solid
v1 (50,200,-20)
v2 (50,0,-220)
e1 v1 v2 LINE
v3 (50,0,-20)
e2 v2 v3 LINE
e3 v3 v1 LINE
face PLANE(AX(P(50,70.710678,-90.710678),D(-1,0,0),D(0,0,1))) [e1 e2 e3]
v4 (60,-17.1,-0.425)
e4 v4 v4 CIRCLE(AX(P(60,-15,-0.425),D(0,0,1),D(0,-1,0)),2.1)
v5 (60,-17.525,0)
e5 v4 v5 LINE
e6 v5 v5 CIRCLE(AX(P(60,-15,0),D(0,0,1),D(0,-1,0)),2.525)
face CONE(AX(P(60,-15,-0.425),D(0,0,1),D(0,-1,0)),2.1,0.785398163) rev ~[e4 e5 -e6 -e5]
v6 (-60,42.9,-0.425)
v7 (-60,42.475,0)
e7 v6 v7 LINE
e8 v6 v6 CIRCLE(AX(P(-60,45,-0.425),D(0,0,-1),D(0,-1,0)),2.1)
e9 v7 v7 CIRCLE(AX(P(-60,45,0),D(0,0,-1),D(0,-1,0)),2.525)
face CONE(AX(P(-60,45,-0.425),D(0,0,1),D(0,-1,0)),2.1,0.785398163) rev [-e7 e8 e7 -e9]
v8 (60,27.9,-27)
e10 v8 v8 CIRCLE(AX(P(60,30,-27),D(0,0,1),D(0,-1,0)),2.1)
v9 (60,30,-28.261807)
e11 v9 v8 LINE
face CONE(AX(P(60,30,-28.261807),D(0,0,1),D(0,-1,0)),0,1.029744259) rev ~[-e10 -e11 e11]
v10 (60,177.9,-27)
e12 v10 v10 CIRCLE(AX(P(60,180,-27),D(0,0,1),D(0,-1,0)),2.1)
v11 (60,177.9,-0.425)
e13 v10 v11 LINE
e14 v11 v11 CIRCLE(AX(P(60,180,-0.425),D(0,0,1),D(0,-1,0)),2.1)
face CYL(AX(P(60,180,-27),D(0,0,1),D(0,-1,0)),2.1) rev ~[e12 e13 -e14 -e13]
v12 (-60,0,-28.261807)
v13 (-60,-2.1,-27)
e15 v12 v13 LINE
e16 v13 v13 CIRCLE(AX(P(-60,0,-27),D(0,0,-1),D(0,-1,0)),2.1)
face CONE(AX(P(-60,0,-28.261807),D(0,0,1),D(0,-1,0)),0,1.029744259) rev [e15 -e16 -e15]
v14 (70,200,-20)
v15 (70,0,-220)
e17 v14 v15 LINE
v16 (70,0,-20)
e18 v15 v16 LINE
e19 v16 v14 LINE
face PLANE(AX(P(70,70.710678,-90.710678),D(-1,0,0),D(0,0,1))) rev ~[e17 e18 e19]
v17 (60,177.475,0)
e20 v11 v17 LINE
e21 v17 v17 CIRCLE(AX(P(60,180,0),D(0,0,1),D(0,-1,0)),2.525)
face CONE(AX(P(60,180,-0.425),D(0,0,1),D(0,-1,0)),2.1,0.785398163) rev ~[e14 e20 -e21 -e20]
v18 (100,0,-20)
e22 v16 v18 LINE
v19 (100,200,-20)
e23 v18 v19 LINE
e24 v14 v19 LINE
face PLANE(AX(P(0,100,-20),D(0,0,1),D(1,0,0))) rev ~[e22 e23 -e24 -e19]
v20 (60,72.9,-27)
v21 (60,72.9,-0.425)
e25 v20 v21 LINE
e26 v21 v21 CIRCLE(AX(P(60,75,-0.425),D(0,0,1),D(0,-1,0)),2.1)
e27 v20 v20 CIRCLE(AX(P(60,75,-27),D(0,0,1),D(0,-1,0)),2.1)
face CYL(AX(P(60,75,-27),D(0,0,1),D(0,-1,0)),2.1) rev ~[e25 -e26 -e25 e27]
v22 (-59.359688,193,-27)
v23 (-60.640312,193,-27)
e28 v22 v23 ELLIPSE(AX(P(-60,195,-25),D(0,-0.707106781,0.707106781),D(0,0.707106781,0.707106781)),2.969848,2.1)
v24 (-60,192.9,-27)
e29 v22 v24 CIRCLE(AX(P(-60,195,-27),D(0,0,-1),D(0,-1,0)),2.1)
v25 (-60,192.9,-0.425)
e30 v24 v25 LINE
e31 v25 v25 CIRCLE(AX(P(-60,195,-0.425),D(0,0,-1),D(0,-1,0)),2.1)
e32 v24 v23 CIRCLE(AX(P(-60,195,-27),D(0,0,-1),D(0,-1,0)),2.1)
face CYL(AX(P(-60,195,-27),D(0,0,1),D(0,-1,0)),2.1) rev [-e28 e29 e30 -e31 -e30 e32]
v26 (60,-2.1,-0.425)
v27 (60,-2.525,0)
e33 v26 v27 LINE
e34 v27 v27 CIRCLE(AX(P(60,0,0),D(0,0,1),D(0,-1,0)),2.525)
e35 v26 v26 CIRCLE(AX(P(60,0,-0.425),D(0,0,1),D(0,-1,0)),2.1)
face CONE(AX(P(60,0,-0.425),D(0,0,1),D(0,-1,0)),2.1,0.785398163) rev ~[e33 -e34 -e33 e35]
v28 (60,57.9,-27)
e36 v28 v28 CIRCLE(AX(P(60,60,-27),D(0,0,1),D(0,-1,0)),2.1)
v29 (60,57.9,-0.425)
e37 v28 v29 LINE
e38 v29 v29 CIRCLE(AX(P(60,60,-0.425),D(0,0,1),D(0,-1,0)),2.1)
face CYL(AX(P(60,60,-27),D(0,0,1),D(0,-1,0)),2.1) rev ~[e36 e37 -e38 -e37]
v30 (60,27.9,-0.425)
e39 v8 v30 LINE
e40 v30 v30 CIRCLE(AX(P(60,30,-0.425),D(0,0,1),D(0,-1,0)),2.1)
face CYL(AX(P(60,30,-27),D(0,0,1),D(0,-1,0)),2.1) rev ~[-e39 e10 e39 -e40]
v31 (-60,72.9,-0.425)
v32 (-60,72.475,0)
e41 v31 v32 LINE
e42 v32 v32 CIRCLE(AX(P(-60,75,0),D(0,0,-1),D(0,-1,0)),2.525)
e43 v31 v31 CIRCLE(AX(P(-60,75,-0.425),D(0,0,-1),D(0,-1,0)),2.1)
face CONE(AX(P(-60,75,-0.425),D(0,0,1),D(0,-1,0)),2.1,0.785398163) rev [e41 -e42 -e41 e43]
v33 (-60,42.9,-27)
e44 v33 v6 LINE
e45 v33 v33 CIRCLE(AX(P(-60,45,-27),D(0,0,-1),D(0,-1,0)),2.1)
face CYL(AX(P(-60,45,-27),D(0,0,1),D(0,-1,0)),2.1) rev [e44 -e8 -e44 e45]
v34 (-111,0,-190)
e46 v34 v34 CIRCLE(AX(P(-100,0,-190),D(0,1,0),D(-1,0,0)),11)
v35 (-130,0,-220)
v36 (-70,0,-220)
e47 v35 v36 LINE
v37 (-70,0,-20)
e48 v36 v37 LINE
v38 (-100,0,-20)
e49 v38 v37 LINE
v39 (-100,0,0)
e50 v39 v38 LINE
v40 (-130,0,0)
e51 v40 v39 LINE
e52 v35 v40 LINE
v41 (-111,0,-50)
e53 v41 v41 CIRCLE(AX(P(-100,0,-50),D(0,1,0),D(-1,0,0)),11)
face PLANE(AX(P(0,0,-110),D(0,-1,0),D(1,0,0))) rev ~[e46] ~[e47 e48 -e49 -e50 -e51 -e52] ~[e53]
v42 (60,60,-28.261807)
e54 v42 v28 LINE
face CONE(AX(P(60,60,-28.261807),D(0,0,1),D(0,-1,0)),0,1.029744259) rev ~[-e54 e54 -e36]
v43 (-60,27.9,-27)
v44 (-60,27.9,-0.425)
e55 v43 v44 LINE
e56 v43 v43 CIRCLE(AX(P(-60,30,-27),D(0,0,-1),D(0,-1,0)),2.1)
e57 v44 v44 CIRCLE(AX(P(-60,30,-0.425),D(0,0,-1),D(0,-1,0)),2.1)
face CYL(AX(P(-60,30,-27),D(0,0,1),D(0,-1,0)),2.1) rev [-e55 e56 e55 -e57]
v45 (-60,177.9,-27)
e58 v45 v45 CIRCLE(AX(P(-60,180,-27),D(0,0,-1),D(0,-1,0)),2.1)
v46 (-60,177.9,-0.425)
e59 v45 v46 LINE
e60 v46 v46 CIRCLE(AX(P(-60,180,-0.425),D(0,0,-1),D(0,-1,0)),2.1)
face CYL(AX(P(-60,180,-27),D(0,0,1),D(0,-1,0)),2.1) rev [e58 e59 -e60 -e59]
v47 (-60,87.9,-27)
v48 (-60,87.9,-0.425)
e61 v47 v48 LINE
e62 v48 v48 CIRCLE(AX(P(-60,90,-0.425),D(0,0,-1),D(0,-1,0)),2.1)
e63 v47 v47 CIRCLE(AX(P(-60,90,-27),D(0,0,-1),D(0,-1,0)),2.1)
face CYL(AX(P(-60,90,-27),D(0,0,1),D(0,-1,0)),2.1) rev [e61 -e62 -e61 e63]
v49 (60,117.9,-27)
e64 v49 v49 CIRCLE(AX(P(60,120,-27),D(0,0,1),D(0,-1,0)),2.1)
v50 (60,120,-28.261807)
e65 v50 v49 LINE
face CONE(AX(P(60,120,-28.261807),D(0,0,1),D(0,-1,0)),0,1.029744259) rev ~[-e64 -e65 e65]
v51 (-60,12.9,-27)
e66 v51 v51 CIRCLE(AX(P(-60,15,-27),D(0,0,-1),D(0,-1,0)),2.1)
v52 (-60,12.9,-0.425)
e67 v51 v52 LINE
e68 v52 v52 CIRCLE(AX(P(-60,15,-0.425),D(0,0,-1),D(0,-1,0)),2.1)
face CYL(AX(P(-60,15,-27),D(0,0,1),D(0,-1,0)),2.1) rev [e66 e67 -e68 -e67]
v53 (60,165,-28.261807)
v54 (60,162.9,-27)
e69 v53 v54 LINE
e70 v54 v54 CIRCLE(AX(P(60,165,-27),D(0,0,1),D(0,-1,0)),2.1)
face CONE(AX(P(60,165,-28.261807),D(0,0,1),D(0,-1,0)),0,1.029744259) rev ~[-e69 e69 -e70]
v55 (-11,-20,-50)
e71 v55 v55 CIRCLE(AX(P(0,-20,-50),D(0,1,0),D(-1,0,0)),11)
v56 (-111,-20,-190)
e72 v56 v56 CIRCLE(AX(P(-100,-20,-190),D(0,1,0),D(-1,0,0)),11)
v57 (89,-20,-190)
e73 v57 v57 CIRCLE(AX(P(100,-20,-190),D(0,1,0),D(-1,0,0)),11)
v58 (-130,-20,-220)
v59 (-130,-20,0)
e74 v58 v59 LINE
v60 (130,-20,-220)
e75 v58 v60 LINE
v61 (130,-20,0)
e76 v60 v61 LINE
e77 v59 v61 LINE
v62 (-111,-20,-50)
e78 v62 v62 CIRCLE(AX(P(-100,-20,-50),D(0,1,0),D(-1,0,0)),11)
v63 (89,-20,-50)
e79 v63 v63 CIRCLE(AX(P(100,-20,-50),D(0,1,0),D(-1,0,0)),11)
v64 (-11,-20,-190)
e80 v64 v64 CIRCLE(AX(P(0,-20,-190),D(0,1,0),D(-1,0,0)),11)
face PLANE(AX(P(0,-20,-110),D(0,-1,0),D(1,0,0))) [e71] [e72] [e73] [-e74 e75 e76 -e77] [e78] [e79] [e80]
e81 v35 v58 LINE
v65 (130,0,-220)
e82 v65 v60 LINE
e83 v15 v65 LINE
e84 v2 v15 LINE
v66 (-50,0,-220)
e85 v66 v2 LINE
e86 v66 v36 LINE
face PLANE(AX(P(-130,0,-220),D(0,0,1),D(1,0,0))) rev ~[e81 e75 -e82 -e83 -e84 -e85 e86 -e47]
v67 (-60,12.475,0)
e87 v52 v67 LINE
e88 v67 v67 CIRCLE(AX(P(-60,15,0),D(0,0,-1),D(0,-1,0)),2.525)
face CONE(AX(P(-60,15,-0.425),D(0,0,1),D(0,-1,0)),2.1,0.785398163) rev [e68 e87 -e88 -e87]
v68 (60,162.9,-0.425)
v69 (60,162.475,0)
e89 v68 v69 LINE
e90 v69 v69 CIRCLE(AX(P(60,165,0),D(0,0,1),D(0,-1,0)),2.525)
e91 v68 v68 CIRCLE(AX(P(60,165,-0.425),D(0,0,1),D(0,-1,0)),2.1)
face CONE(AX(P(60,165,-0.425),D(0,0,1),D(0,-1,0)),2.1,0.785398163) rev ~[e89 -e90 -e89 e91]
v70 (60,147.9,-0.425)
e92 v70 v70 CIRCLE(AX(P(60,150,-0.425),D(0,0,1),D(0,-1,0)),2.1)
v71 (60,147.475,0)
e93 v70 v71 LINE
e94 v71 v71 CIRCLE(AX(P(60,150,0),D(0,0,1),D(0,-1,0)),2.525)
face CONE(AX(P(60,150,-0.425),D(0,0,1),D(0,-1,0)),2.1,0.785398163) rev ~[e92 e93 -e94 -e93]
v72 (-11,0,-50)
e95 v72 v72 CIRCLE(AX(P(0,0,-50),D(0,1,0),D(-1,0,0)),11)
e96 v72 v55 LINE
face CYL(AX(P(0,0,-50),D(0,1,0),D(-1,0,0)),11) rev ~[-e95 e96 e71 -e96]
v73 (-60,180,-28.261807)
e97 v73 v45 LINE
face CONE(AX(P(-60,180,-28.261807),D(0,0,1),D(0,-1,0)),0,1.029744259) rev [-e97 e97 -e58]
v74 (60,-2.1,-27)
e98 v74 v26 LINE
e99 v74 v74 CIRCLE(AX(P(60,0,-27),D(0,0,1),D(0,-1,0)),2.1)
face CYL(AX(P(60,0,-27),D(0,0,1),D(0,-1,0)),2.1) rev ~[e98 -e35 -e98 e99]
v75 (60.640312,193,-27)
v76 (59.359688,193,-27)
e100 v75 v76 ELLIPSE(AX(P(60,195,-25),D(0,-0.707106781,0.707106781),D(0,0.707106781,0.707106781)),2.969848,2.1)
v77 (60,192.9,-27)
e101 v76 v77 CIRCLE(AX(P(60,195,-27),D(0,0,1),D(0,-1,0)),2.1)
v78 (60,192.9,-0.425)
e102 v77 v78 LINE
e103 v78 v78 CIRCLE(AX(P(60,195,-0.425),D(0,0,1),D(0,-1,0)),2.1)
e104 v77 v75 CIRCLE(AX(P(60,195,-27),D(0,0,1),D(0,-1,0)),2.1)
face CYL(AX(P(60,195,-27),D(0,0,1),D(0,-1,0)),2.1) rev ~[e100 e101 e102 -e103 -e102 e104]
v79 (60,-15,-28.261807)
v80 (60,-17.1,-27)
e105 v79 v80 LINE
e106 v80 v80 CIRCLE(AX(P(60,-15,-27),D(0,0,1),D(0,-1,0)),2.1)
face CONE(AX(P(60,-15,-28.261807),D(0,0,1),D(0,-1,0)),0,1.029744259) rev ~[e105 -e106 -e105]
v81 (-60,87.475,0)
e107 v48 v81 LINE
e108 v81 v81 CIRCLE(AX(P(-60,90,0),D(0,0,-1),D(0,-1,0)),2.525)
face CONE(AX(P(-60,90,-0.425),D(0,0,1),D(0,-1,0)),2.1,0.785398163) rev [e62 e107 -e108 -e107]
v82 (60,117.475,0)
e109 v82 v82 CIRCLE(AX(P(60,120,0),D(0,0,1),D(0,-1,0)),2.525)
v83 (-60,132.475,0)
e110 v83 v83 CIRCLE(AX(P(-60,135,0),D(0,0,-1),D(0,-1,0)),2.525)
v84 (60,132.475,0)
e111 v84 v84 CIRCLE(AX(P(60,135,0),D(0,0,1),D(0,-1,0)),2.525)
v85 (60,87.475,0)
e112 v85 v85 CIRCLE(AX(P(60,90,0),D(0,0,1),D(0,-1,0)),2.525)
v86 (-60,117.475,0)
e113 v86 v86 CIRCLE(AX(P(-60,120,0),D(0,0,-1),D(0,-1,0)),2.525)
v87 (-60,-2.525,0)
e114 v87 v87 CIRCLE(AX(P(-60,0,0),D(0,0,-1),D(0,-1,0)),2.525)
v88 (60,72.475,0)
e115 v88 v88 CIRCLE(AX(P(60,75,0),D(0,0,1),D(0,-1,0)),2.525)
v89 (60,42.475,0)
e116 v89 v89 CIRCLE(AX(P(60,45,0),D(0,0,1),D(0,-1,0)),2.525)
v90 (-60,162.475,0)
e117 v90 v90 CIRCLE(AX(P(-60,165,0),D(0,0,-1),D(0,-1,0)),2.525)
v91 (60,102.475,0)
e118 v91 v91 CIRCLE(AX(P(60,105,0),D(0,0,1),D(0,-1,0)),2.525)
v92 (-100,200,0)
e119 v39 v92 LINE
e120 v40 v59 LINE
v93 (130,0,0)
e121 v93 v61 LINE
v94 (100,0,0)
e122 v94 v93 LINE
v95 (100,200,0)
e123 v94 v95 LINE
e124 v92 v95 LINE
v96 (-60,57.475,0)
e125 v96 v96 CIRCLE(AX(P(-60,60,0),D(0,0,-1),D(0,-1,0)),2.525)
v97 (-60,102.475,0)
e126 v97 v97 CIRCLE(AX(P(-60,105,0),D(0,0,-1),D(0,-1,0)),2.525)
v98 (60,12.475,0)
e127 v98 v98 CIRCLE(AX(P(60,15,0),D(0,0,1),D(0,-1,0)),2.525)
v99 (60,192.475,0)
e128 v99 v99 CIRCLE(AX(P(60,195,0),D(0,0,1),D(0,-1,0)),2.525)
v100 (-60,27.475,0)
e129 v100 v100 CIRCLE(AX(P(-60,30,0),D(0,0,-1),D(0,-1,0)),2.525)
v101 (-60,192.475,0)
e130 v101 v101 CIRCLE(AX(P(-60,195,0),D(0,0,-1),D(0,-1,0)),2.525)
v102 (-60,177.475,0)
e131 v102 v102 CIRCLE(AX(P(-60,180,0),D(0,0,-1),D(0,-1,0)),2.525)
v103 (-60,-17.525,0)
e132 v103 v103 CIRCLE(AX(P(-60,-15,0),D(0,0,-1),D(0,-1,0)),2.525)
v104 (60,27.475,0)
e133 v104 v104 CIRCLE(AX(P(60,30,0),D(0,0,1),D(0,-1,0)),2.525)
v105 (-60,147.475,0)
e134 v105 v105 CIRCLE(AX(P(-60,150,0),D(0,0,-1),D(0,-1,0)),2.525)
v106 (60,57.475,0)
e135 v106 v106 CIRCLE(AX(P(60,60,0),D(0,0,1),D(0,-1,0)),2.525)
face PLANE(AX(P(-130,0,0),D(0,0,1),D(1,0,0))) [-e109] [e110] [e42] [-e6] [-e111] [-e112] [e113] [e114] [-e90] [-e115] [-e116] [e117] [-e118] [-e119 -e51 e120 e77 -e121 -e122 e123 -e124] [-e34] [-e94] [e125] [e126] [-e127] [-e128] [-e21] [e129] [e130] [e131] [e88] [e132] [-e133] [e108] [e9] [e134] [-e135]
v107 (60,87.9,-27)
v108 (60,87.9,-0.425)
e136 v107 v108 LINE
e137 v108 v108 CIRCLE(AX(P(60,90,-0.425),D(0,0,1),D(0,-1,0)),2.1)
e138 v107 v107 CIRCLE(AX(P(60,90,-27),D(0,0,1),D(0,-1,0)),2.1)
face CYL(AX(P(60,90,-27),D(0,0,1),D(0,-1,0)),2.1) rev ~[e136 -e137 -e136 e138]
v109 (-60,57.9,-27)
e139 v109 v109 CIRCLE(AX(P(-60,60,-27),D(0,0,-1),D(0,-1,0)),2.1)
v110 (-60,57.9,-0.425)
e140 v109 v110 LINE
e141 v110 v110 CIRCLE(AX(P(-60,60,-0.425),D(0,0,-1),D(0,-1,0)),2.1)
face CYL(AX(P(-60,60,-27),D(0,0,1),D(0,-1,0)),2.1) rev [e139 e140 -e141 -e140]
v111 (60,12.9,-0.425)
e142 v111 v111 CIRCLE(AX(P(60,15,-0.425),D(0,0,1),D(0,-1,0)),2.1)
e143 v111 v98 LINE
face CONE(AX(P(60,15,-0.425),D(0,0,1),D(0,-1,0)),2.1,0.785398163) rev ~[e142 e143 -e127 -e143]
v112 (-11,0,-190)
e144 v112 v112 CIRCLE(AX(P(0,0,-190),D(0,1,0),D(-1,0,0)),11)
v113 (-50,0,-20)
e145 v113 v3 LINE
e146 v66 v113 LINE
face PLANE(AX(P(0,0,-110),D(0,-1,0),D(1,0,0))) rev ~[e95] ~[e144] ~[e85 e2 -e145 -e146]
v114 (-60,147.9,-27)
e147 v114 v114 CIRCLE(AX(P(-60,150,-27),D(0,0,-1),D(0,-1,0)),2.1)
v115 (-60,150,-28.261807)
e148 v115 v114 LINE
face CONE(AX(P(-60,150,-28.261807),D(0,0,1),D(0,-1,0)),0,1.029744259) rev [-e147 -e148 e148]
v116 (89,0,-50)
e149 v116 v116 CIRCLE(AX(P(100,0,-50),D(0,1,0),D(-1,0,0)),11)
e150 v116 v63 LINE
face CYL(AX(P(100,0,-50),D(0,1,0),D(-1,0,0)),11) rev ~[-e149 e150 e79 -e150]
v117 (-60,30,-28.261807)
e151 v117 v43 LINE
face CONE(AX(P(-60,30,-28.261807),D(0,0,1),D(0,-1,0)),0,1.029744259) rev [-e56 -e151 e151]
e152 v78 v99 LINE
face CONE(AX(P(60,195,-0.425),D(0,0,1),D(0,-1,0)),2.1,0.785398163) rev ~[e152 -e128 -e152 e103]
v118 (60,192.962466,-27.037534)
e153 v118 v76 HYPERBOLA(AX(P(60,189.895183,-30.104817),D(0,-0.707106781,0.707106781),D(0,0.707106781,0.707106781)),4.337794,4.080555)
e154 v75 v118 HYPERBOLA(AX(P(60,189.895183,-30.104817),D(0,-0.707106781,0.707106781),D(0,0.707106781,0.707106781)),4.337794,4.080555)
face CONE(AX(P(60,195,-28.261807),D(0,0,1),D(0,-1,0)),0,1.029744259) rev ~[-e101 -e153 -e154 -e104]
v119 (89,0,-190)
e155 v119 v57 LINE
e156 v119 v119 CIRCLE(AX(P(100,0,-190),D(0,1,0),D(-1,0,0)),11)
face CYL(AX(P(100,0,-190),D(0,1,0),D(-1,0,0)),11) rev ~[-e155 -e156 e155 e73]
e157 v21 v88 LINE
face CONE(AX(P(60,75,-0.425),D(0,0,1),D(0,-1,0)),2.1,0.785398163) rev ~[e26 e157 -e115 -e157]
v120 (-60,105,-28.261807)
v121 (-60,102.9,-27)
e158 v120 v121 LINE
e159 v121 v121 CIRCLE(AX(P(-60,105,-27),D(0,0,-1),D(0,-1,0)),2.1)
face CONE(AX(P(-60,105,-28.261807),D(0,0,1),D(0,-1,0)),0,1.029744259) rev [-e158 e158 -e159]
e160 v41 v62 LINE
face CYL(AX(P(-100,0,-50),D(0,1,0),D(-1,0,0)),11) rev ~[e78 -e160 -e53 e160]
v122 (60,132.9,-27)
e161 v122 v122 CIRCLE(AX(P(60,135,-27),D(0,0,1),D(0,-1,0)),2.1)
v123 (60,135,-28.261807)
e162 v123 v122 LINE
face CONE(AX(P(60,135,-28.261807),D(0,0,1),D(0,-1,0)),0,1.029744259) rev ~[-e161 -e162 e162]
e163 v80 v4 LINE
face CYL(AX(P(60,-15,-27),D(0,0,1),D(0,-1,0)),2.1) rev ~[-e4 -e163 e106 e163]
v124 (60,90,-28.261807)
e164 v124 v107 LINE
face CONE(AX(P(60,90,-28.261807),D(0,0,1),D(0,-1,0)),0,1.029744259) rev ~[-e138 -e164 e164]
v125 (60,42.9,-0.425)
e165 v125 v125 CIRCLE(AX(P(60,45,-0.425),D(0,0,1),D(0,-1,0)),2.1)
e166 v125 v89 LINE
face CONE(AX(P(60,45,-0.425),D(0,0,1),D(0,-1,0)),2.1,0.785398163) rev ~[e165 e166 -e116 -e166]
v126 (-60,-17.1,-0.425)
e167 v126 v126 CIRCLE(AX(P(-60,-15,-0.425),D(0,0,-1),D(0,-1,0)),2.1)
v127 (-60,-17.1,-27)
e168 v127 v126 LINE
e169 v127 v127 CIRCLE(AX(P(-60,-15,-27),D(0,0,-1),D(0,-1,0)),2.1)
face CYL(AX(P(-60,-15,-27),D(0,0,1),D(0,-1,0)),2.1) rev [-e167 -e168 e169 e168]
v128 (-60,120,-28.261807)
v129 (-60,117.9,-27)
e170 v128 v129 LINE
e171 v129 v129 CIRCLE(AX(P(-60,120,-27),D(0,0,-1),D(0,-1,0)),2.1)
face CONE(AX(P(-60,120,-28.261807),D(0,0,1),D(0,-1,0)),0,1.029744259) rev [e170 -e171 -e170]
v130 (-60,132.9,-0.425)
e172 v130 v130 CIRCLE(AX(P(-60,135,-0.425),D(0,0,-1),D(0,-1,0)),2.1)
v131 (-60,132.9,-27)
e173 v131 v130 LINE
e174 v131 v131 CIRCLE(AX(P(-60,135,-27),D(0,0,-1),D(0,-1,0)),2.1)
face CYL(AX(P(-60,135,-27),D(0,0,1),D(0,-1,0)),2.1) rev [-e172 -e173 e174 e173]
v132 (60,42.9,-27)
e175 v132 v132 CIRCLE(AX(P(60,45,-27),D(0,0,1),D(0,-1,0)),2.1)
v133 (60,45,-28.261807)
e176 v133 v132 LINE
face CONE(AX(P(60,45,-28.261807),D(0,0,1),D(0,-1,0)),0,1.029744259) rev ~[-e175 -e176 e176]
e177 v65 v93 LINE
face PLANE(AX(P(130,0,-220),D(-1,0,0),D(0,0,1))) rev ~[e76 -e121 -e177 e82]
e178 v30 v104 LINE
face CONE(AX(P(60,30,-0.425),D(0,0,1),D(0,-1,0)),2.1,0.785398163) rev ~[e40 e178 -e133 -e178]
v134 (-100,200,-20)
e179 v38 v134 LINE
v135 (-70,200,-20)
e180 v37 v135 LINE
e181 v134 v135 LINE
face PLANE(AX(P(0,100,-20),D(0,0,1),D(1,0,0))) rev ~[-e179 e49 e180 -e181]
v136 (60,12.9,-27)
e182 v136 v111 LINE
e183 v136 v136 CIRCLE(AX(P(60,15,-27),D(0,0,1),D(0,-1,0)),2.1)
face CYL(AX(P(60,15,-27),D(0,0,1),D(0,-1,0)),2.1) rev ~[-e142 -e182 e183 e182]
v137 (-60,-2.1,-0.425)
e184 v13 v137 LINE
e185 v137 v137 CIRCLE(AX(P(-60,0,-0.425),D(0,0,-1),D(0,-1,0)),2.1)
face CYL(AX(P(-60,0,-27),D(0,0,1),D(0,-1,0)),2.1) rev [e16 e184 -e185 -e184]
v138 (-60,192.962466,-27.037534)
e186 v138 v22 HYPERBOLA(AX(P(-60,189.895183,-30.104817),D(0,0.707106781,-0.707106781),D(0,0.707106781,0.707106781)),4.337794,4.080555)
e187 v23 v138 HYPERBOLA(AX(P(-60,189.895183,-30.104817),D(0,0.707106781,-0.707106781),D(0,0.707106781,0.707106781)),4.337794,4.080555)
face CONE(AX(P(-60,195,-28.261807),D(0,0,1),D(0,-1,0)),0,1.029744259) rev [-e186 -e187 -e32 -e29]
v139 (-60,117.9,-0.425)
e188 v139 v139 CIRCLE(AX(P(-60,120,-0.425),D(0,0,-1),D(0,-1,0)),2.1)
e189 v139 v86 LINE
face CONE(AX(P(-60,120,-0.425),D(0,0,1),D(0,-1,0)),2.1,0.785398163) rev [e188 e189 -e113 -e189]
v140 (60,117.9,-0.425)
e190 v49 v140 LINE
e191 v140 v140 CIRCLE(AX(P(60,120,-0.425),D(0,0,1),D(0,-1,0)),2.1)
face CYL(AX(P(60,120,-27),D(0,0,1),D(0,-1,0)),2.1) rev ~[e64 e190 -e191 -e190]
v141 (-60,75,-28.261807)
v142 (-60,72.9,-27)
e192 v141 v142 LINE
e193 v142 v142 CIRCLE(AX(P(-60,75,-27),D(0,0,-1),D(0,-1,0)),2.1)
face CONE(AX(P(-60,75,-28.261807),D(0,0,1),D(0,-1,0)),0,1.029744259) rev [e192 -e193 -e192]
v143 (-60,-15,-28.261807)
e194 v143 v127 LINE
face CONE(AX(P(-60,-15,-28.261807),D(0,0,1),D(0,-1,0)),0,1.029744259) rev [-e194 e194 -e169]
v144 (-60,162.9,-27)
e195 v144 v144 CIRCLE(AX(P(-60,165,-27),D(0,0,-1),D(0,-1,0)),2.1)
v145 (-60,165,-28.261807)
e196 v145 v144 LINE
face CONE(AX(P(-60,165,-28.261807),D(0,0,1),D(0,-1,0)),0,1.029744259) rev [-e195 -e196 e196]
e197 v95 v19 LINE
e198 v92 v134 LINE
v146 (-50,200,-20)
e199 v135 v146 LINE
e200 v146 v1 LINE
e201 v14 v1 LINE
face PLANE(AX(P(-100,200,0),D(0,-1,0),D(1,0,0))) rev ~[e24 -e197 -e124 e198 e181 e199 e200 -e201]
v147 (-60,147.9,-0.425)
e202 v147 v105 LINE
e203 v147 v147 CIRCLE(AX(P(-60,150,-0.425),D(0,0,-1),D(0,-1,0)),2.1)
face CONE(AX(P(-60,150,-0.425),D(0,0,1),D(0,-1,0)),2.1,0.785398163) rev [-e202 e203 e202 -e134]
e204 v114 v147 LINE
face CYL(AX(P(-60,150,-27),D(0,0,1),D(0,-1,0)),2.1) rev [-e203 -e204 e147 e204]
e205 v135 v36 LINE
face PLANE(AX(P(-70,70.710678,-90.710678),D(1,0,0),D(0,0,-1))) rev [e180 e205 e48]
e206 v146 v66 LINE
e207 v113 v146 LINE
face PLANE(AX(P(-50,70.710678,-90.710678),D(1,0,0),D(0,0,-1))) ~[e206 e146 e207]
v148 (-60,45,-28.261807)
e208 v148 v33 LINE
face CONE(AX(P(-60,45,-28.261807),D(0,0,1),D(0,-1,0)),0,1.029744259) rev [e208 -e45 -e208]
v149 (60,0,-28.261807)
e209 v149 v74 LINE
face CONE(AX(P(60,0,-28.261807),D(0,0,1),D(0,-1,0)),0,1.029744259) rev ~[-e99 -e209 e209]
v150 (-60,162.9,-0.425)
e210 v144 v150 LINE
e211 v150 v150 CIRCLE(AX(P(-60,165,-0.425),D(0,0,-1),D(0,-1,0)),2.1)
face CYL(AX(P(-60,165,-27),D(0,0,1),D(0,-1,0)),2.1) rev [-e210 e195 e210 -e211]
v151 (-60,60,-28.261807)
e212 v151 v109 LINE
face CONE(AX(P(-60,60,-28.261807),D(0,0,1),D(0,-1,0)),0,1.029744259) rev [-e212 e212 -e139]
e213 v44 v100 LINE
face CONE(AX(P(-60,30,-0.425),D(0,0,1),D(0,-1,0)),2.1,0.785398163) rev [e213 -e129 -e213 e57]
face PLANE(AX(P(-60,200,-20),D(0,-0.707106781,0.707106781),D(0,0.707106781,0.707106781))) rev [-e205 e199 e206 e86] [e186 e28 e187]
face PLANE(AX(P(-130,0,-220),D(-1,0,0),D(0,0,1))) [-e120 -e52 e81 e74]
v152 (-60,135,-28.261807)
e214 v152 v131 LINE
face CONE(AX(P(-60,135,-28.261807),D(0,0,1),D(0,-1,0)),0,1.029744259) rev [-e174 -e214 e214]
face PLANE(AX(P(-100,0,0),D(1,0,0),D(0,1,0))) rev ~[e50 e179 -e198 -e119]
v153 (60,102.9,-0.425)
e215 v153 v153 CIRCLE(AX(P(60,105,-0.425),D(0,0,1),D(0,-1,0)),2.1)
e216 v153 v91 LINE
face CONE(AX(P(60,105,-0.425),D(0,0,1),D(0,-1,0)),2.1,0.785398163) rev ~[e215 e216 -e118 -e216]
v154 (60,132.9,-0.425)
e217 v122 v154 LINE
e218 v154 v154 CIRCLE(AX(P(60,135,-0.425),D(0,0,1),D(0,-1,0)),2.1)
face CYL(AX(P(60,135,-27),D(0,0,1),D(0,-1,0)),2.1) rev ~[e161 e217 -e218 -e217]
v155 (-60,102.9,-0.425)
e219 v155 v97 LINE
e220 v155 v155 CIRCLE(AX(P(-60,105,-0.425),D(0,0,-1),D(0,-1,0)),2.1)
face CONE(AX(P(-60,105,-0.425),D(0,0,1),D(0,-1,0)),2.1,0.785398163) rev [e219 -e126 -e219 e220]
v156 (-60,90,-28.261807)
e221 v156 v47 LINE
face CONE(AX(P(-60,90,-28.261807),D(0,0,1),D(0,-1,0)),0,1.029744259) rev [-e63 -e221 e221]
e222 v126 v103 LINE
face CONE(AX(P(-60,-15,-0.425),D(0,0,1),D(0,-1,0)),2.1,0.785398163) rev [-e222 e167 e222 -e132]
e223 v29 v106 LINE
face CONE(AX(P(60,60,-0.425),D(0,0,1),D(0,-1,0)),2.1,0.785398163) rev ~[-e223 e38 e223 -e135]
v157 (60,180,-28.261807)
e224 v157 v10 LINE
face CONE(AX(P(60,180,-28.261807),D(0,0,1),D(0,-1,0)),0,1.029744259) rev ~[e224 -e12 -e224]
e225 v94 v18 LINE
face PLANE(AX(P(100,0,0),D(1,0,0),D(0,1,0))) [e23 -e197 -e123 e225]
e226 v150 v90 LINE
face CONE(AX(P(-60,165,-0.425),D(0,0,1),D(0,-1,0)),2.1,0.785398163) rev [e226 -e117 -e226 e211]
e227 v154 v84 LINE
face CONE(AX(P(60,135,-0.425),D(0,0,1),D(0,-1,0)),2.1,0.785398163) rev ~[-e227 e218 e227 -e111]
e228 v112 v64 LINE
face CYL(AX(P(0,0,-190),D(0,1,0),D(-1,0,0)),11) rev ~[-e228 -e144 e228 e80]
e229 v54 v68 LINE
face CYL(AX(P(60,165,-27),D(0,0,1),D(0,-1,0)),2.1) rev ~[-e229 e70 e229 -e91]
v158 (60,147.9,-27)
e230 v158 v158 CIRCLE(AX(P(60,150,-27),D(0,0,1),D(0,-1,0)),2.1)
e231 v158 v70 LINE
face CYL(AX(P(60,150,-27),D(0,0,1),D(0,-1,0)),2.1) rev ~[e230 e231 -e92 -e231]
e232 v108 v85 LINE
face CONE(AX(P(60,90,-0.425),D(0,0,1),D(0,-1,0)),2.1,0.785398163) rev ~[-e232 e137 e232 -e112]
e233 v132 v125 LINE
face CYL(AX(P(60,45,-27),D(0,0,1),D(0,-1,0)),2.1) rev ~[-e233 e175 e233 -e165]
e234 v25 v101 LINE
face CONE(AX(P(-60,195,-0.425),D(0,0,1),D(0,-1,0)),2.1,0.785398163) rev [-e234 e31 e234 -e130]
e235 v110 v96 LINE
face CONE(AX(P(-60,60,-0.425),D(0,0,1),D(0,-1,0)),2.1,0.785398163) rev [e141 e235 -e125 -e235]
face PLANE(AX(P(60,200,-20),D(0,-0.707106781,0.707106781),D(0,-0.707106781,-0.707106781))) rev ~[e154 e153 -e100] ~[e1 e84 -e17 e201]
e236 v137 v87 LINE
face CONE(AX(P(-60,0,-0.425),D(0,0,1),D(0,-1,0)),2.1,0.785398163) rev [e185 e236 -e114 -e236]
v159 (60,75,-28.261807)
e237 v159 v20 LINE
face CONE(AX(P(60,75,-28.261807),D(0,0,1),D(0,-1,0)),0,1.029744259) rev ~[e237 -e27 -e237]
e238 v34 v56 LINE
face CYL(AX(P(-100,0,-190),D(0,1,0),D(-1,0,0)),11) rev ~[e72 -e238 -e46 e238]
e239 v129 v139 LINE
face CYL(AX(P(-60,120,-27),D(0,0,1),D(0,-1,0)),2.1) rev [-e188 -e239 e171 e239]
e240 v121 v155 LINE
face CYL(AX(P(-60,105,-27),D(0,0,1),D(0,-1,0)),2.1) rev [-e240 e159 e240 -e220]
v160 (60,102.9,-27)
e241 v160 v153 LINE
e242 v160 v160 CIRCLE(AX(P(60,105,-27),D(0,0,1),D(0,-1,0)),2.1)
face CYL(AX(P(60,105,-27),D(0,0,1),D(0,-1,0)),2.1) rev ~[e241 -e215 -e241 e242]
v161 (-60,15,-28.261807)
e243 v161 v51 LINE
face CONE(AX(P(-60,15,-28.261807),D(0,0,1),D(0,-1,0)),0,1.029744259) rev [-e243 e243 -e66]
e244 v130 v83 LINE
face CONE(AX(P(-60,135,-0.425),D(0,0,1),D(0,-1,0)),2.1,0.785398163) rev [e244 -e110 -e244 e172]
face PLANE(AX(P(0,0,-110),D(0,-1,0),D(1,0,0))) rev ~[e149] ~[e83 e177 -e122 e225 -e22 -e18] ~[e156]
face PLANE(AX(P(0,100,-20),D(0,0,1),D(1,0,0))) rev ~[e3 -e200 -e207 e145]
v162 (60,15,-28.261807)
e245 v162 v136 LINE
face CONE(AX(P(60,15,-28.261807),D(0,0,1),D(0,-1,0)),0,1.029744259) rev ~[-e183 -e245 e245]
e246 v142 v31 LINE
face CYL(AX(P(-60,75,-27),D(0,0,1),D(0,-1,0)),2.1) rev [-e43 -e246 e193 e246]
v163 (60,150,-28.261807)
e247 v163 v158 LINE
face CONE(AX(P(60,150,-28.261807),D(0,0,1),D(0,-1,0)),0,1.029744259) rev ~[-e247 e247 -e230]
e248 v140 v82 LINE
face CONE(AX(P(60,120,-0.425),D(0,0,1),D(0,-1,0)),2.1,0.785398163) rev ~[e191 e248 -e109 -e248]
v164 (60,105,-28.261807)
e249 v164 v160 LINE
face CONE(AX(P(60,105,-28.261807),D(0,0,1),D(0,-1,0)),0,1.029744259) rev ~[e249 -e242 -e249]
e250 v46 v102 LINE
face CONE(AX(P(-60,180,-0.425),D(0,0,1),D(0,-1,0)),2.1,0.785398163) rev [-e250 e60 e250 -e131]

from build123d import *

# Parameters (mm, degrees)
ESBO_O1_W                      = 200
ESBO_O1_H                      = 200
RESSALTO_EXTRUS_O1_DEPTH       = 20
RESSALTO_EXTRUS_O2_DEPTH       = 10
ESBO_O3_W                      = 260
ESBO_O3_H                      = 220
RESSALTO_EXTRUS_O3_DEPTH       = 20
CORTE_EXTRUS_O1_REACH          = 326.5
ESBO_O4_R                      = 11
PADR_O_LINEAR1_COUNT           = 2
PADR_O_LINEAR1_PITCH           = 100
PADR_O_LINEAR1_COL_COUNT       = 2
PADR_O_LINEAR1_COL_PITCH       = 100
PADR_O_LINEAR2_COUNT           = 2
PADR_O_LINEAR2_PITCH           = 140
PADR_O_LINEAR2_COPY_1_REACH    = 326.5
PADR_O_LINEAR2_COPY_1_SKETCH_R = 11
PADR_O_LINEAR2_COPY_2_REACH    = 326.5
PADR_O_LINEAR2_COPY_2_SKETCH_R = 11
PADR_O_LINEAR3_COUNT           = 15
PADR_O_LINEAR3_PITCH           = 15


with BuildPart() as part:
    # Esboço1 → Ressalto-extrusão1 (new body)
    with BuildSketch(Plane.XY):
        with Locations((0, 100)):
            Rectangle(ESBO_O1_W, ESBO_O1_H)
    extrude(amount=-RESSALTO_EXTRUS_O1_DEPTH)

    # Esboço2 → Ressalto-extrusão2 (add, symmetric)
    with BuildSketch(Plane(origin=(60, 0, 0), x_dir=(0, 0, -1), z_dir=(1, 0, 0))):
        Polygon((20, 0), (20, 200), (220, 0), align=None)
    ressalto_extrus_o2 = extrude(amount=RESSALTO_EXTRUS_O2_DEPTH, both=True)

    # Espelhar1: Ressalto-extrusão2 across plane
    add(ressalto_extrus_o2.mirror(Plane(origin=(0, 0, 0), x_dir=(0, 0, 1), z_dir=(1, 0, 0))))

    # Esboço3 → Ressalto-extrusão3 (add)
    with BuildSketch(Plane.XZ):
        with Locations((0, -110)):
            Rectangle(ESBO_O3_W, ESBO_O3_H)
    extrude(amount=RESSALTO_EXTRUS_O3_DEPTH)

    # Esboço4 → Corte-extrusão1 (cut, up to next)
    with BuildSketch(Plane(origin=(0, 0, 0), x_dir=(1, 0, 0), z_dir=(0, 1, 0)), mode=Mode.PRIVATE) as corte_extrus_o1_sk1:
        with Locations(Location((0, 190, 0), (0, 0, 180))):
            Circle(ESBO_O4_R)
    corte_extrus_o1_tool1 = extrude(corte_extrus_o1_sk1.sketch, amount=-CORTE_EXTRUS_O1_REACH, mode=Mode.PRIVATE) & part.part
    corte_extrus_o1 = corte_extrus_o1_tool1.solids().sort_by_distance((0, 0, -190))[0]
    add(corte_extrus_o1, mode=Mode.SUBTRACT)

    # Padrão linear1: Corte-extrusão1 ×2
    with Locations(*[(i * PADR_O_LINEAR1_PITCH, 0, 0) for i in range(1, PADR_O_LINEAR1_COUNT)]):
        add(corte_extrus_o1, mode=Mode.SUBTRACT)

    # Padrão linear1 col: Corte-extrusão1 ×2
    with Locations(*[(-i * PADR_O_LINEAR1_COL_PITCH, 0, 0) for i in range(1, PADR_O_LINEAR1_COL_COUNT)]):
        add(corte_extrus_o1, mode=Mode.SUBTRACT)

    # Padrão linear2: Corte-extrusão1 ×2
    with Locations(*[(0, 0, i * PADR_O_LINEAR2_PITCH) for i in range(1, PADR_O_LINEAR2_COUNT)]):
        add(corte_extrus_o1, mode=Mode.SUBTRACT)

    # Padrão linear2 copy 1 sketch → Padrão linear2 copy 1 (cut, up to next)
    with BuildSketch(Plane(origin=(100, 0, 140), x_dir=(1, 0, 0), z_dir=(0, 1, 0)), mode=Mode.PRIVATE) as padr_o_linear2_copy_1_sk1:
        with Locations(Location((0, 190, 0), (0, 0, 180))):
            Circle(PADR_O_LINEAR2_COPY_1_SKETCH_R)
    padr_o_linear2_copy_1_tool1 = extrude(padr_o_linear2_copy_1_sk1.sketch, amount=-PADR_O_LINEAR2_COPY_1_REACH, mode=Mode.PRIVATE) & part.part
    add(padr_o_linear2_copy_1_tool1.solids().sort_by_distance((100, 0, -50))[0], mode=Mode.SUBTRACT)

    # Padrão linear2 copy 2 sketch → Padrão linear2 copy 2 (cut, up to next)
    with BuildSketch(Plane(origin=(-100, 0, 140), x_dir=(1, 0, 0), z_dir=(0, 1, 0)), mode=Mode.PRIVATE) as padr_o_linear2_copy_2_sk1:
        with Locations(Location((0, 190, 0), (0, 0, 180))):
            Circle(PADR_O_LINEAR2_COPY_2_SKETCH_R)
    padr_o_linear2_copy_2_tool1 = extrude(padr_o_linear2_copy_2_sk1.sketch, amount=-PADR_O_LINEAR2_COPY_2_REACH, mode=Mode.PRIVATE) & part.part
    add(padr_o_linear2_copy_2_tool1.solids().sort_by_distance((-100, 0, -50))[0], mode=Mode.SUBTRACT)

    # Esboço7 → Furo roscado de M51 (revolve, cut)
    with BuildSketch(Plane(origin=(-60, -15, 0), x_dir=(0, -1, 0), z_dir=(1, 0, 0))):
        Polygon((0, 0), (0, 28.2618073), (2.1, 27), (2.1, 0.425), (2.525, 0), align=None)
    furo_roscado_de_m51 = revolve(axis=Axis((-60, -15, 6.35), (0, 0, -1)), mode=Mode.SUBTRACT)

    # Padrão linear3: Furo roscado de M51 ×15
    with Locations(*[(0, i * PADR_O_LINEAR3_PITCH, 0) for i in range(1, PADR_O_LINEAR3_COUNT)]):
        add(furo_roscado_de_m51, mode=Mode.SUBTRACT)

    # Espelhar2: Furo roscado de M51 across plane
    add(furo_roscado_de_m51.mirror(Plane(origin=(0, 0, 0), x_dir=(0, 0, 1), z_dir=(1, 0, 0))), mode=Mode.SUBTRACT)

    # Espelhar2 copy 1 sketch → Espelhar2 copy 1 (revolve, cut)
    with BuildSketch(Plane(origin=(60, 0, 0), x_dir=(0, -1, 0), z_dir=(-1, 0, 0))):
        Polygon((0, 0), (0, -28.2618073), (2.1, -27), (2.1, -0.425), (2.525, 0), align=None)
    revolve(axis=Axis((60, 0, 6.35), (0, 0, 1)), mode=Mode.SUBTRACT)

    # Espelhar2 copy 2 sketch → Espelhar2 copy 2 (revolve, cut)
    with BuildSketch(Plane(origin=(60, 15, 0), x_dir=(0, -1, 0), z_dir=(-1, 0, 0))):
        Polygon((0, 0), (0, -28.2618073), (2.1, -27), (2.1, -0.425), (2.525, 0), align=None)
    revolve(axis=Axis((60, 15, 6.35), (0, 0, 1)), mode=Mode.SUBTRACT)

    # Espelhar2 copy 3 sketch → Espelhar2 copy 3 (revolve, cut)
    with BuildSketch(Plane(origin=(60, 30, 0), x_dir=(0, -1, 0), z_dir=(-1, 0, 0))):
        Polygon((0, 0), (0, -28.2618073), (2.1, -27), (2.1, -0.425), (2.525, 0), align=None)
    revolve(axis=Axis((60, 30, 6.35), (0, 0, 1)), mode=Mode.SUBTRACT)

    # Espelhar2 copy 4 sketch → Espelhar2 copy 4 (revolve, cut)
    with BuildSketch(Plane(origin=(60, 45, 0), x_dir=(0, -1, 0), z_dir=(-1, 0, 0))):
        Polygon((0, 0), (0, -28.2618073), (2.1, -27), (2.1, -0.425), (2.525, 0), align=None)
    revolve(axis=Axis((60, 45, 6.35), (0, 0, 1)), mode=Mode.SUBTRACT)

    # Espelhar2 copy 5 sketch → Espelhar2 copy 5 (revolve, cut)
    with BuildSketch(Plane(origin=(60, 60, 0), x_dir=(0, -1, 0), z_dir=(-1, 0, 0))):
        Polygon((0, 0), (0, -28.2618073), (2.1, -27), (2.1, -0.425), (2.525, 0), align=None)
    revolve(axis=Axis((60, 60, 6.35), (0, 0, 1)), mode=Mode.SUBTRACT)

    # Espelhar2 copy 6 sketch → Espelhar2 copy 6 (revolve, cut)
    with BuildSketch(Plane(origin=(60, 75, 0), x_dir=(0, -1, 0), z_dir=(-1, 0, 0))):
        Polygon((0, 0), (0, -28.2618073), (2.1, -27), (2.1, -0.425), (2.525, 0), align=None)
    revolve(axis=Axis((60, 75, 6.35), (0, 0, 1)), mode=Mode.SUBTRACT)

    # Espelhar2 copy 7 sketch → Espelhar2 copy 7 (revolve, cut)
    with BuildSketch(Plane(origin=(60, 90, 0), x_dir=(0, -1, 0), z_dir=(-1, 0, 0))):
        Polygon((0, 0), (0, -28.2618073), (2.1, -27), (2.1, -0.425), (2.525, 0), align=None)
    revolve(axis=Axis((60, 90, 6.35), (0, 0, 1)), mode=Mode.SUBTRACT)

    # Espelhar2 copy 8 sketch → Espelhar2 copy 8 (revolve, cut)
    with BuildSketch(Plane(origin=(60, 105, 0), x_dir=(0, -1, 0), z_dir=(-1, 0, 0))):
        Polygon((0, 0), (0, -28.2618073), (2.1, -27), (2.1, -0.425), (2.525, 0), align=None)
    revolve(axis=Axis((60, 105, 6.35), (0, 0, 1)), mode=Mode.SUBTRACT)

    # Espelhar2 copy 9 sketch → Espelhar2 copy 9 (revolve, cut)
    with BuildSketch(Plane(origin=(60, 120, 0), x_dir=(0, -1, 0), z_dir=(-1, 0, 0))):
        Polygon((0, 0), (0, -28.2618073), (2.1, -27), (2.1, -0.425), (2.525, 0), align=None)
    revolve(axis=Axis((60, 120, 6.35), (0, 0, 1)), mode=Mode.SUBTRACT)

    # Espelhar2 copy 10 sketch → Espelhar2 copy 10 (revolve, cut)
    with BuildSketch(Plane(origin=(60, 135, 0), x_dir=(0, -1, 0), z_dir=(-1, 0, 0))):
        Polygon((0, 0), (0, -28.2618073), (2.1, -27), (2.1, -0.425), (2.525, 0), align=None)
    revolve(axis=Axis((60, 135, 6.35), (0, 0, 1)), mode=Mode.SUBTRACT)

    # Espelhar2 copy 11 sketch → Espelhar2 copy 11 (revolve, cut)
    with BuildSketch(Plane(origin=(60, 150, 0), x_dir=(0, -1, 0), z_dir=(-1, 0, 0))):
        Polygon((0, 0), (0, -28.2618073), (2.1, -27), (2.1, -0.425), (2.525, 0), align=None)
    revolve(axis=Axis((60, 150, 6.35), (0, 0, 1)), mode=Mode.SUBTRACT)

    # Espelhar2 copy 12 sketch → Espelhar2 copy 12 (revolve, cut)
    with BuildSketch(Plane(origin=(60, 165, 0), x_dir=(0, -1, 0), z_dir=(-1, 0, 0))):
        Polygon((0, 0), (0, -28.2618073), (2.1, -27), (2.1, -0.425), (2.525, 0), align=None)
    revolve(axis=Axis((60, 165, 6.35), (0, 0, 1)), mode=Mode.SUBTRACT)

    # Espelhar2 copy 13 sketch → Espelhar2 copy 13 (revolve, cut)
    with BuildSketch(Plane(origin=(60, 180, 0), x_dir=(0, -1, 0), z_dir=(-1, 0, 0))):
        Polygon((0, 0), (0, -28.2618073), (2.1, -27), (2.1, -0.425), (2.525, 0), align=None)
    revolve(axis=Axis((60, 180, 6.35), (0, 0, 1)), mode=Mode.SUBTRACT)

    # Espelhar2 copy 14 sketch → Espelhar2 copy 14 (revolve, cut)
    with BuildSketch(Plane(origin=(60, 195, 0), x_dir=(0, -1, 0), z_dir=(-1, 0, 0))):
        Polygon((0, 0), (0, -28.2618073), (2.1, -27), (2.1, -0.425), (2.525, 0), align=None)
    revolve(axis=Axis((60, 195, 6.35), (0, 0, 1)), mode=Mode.SUBTRACT)


solid = part.part
